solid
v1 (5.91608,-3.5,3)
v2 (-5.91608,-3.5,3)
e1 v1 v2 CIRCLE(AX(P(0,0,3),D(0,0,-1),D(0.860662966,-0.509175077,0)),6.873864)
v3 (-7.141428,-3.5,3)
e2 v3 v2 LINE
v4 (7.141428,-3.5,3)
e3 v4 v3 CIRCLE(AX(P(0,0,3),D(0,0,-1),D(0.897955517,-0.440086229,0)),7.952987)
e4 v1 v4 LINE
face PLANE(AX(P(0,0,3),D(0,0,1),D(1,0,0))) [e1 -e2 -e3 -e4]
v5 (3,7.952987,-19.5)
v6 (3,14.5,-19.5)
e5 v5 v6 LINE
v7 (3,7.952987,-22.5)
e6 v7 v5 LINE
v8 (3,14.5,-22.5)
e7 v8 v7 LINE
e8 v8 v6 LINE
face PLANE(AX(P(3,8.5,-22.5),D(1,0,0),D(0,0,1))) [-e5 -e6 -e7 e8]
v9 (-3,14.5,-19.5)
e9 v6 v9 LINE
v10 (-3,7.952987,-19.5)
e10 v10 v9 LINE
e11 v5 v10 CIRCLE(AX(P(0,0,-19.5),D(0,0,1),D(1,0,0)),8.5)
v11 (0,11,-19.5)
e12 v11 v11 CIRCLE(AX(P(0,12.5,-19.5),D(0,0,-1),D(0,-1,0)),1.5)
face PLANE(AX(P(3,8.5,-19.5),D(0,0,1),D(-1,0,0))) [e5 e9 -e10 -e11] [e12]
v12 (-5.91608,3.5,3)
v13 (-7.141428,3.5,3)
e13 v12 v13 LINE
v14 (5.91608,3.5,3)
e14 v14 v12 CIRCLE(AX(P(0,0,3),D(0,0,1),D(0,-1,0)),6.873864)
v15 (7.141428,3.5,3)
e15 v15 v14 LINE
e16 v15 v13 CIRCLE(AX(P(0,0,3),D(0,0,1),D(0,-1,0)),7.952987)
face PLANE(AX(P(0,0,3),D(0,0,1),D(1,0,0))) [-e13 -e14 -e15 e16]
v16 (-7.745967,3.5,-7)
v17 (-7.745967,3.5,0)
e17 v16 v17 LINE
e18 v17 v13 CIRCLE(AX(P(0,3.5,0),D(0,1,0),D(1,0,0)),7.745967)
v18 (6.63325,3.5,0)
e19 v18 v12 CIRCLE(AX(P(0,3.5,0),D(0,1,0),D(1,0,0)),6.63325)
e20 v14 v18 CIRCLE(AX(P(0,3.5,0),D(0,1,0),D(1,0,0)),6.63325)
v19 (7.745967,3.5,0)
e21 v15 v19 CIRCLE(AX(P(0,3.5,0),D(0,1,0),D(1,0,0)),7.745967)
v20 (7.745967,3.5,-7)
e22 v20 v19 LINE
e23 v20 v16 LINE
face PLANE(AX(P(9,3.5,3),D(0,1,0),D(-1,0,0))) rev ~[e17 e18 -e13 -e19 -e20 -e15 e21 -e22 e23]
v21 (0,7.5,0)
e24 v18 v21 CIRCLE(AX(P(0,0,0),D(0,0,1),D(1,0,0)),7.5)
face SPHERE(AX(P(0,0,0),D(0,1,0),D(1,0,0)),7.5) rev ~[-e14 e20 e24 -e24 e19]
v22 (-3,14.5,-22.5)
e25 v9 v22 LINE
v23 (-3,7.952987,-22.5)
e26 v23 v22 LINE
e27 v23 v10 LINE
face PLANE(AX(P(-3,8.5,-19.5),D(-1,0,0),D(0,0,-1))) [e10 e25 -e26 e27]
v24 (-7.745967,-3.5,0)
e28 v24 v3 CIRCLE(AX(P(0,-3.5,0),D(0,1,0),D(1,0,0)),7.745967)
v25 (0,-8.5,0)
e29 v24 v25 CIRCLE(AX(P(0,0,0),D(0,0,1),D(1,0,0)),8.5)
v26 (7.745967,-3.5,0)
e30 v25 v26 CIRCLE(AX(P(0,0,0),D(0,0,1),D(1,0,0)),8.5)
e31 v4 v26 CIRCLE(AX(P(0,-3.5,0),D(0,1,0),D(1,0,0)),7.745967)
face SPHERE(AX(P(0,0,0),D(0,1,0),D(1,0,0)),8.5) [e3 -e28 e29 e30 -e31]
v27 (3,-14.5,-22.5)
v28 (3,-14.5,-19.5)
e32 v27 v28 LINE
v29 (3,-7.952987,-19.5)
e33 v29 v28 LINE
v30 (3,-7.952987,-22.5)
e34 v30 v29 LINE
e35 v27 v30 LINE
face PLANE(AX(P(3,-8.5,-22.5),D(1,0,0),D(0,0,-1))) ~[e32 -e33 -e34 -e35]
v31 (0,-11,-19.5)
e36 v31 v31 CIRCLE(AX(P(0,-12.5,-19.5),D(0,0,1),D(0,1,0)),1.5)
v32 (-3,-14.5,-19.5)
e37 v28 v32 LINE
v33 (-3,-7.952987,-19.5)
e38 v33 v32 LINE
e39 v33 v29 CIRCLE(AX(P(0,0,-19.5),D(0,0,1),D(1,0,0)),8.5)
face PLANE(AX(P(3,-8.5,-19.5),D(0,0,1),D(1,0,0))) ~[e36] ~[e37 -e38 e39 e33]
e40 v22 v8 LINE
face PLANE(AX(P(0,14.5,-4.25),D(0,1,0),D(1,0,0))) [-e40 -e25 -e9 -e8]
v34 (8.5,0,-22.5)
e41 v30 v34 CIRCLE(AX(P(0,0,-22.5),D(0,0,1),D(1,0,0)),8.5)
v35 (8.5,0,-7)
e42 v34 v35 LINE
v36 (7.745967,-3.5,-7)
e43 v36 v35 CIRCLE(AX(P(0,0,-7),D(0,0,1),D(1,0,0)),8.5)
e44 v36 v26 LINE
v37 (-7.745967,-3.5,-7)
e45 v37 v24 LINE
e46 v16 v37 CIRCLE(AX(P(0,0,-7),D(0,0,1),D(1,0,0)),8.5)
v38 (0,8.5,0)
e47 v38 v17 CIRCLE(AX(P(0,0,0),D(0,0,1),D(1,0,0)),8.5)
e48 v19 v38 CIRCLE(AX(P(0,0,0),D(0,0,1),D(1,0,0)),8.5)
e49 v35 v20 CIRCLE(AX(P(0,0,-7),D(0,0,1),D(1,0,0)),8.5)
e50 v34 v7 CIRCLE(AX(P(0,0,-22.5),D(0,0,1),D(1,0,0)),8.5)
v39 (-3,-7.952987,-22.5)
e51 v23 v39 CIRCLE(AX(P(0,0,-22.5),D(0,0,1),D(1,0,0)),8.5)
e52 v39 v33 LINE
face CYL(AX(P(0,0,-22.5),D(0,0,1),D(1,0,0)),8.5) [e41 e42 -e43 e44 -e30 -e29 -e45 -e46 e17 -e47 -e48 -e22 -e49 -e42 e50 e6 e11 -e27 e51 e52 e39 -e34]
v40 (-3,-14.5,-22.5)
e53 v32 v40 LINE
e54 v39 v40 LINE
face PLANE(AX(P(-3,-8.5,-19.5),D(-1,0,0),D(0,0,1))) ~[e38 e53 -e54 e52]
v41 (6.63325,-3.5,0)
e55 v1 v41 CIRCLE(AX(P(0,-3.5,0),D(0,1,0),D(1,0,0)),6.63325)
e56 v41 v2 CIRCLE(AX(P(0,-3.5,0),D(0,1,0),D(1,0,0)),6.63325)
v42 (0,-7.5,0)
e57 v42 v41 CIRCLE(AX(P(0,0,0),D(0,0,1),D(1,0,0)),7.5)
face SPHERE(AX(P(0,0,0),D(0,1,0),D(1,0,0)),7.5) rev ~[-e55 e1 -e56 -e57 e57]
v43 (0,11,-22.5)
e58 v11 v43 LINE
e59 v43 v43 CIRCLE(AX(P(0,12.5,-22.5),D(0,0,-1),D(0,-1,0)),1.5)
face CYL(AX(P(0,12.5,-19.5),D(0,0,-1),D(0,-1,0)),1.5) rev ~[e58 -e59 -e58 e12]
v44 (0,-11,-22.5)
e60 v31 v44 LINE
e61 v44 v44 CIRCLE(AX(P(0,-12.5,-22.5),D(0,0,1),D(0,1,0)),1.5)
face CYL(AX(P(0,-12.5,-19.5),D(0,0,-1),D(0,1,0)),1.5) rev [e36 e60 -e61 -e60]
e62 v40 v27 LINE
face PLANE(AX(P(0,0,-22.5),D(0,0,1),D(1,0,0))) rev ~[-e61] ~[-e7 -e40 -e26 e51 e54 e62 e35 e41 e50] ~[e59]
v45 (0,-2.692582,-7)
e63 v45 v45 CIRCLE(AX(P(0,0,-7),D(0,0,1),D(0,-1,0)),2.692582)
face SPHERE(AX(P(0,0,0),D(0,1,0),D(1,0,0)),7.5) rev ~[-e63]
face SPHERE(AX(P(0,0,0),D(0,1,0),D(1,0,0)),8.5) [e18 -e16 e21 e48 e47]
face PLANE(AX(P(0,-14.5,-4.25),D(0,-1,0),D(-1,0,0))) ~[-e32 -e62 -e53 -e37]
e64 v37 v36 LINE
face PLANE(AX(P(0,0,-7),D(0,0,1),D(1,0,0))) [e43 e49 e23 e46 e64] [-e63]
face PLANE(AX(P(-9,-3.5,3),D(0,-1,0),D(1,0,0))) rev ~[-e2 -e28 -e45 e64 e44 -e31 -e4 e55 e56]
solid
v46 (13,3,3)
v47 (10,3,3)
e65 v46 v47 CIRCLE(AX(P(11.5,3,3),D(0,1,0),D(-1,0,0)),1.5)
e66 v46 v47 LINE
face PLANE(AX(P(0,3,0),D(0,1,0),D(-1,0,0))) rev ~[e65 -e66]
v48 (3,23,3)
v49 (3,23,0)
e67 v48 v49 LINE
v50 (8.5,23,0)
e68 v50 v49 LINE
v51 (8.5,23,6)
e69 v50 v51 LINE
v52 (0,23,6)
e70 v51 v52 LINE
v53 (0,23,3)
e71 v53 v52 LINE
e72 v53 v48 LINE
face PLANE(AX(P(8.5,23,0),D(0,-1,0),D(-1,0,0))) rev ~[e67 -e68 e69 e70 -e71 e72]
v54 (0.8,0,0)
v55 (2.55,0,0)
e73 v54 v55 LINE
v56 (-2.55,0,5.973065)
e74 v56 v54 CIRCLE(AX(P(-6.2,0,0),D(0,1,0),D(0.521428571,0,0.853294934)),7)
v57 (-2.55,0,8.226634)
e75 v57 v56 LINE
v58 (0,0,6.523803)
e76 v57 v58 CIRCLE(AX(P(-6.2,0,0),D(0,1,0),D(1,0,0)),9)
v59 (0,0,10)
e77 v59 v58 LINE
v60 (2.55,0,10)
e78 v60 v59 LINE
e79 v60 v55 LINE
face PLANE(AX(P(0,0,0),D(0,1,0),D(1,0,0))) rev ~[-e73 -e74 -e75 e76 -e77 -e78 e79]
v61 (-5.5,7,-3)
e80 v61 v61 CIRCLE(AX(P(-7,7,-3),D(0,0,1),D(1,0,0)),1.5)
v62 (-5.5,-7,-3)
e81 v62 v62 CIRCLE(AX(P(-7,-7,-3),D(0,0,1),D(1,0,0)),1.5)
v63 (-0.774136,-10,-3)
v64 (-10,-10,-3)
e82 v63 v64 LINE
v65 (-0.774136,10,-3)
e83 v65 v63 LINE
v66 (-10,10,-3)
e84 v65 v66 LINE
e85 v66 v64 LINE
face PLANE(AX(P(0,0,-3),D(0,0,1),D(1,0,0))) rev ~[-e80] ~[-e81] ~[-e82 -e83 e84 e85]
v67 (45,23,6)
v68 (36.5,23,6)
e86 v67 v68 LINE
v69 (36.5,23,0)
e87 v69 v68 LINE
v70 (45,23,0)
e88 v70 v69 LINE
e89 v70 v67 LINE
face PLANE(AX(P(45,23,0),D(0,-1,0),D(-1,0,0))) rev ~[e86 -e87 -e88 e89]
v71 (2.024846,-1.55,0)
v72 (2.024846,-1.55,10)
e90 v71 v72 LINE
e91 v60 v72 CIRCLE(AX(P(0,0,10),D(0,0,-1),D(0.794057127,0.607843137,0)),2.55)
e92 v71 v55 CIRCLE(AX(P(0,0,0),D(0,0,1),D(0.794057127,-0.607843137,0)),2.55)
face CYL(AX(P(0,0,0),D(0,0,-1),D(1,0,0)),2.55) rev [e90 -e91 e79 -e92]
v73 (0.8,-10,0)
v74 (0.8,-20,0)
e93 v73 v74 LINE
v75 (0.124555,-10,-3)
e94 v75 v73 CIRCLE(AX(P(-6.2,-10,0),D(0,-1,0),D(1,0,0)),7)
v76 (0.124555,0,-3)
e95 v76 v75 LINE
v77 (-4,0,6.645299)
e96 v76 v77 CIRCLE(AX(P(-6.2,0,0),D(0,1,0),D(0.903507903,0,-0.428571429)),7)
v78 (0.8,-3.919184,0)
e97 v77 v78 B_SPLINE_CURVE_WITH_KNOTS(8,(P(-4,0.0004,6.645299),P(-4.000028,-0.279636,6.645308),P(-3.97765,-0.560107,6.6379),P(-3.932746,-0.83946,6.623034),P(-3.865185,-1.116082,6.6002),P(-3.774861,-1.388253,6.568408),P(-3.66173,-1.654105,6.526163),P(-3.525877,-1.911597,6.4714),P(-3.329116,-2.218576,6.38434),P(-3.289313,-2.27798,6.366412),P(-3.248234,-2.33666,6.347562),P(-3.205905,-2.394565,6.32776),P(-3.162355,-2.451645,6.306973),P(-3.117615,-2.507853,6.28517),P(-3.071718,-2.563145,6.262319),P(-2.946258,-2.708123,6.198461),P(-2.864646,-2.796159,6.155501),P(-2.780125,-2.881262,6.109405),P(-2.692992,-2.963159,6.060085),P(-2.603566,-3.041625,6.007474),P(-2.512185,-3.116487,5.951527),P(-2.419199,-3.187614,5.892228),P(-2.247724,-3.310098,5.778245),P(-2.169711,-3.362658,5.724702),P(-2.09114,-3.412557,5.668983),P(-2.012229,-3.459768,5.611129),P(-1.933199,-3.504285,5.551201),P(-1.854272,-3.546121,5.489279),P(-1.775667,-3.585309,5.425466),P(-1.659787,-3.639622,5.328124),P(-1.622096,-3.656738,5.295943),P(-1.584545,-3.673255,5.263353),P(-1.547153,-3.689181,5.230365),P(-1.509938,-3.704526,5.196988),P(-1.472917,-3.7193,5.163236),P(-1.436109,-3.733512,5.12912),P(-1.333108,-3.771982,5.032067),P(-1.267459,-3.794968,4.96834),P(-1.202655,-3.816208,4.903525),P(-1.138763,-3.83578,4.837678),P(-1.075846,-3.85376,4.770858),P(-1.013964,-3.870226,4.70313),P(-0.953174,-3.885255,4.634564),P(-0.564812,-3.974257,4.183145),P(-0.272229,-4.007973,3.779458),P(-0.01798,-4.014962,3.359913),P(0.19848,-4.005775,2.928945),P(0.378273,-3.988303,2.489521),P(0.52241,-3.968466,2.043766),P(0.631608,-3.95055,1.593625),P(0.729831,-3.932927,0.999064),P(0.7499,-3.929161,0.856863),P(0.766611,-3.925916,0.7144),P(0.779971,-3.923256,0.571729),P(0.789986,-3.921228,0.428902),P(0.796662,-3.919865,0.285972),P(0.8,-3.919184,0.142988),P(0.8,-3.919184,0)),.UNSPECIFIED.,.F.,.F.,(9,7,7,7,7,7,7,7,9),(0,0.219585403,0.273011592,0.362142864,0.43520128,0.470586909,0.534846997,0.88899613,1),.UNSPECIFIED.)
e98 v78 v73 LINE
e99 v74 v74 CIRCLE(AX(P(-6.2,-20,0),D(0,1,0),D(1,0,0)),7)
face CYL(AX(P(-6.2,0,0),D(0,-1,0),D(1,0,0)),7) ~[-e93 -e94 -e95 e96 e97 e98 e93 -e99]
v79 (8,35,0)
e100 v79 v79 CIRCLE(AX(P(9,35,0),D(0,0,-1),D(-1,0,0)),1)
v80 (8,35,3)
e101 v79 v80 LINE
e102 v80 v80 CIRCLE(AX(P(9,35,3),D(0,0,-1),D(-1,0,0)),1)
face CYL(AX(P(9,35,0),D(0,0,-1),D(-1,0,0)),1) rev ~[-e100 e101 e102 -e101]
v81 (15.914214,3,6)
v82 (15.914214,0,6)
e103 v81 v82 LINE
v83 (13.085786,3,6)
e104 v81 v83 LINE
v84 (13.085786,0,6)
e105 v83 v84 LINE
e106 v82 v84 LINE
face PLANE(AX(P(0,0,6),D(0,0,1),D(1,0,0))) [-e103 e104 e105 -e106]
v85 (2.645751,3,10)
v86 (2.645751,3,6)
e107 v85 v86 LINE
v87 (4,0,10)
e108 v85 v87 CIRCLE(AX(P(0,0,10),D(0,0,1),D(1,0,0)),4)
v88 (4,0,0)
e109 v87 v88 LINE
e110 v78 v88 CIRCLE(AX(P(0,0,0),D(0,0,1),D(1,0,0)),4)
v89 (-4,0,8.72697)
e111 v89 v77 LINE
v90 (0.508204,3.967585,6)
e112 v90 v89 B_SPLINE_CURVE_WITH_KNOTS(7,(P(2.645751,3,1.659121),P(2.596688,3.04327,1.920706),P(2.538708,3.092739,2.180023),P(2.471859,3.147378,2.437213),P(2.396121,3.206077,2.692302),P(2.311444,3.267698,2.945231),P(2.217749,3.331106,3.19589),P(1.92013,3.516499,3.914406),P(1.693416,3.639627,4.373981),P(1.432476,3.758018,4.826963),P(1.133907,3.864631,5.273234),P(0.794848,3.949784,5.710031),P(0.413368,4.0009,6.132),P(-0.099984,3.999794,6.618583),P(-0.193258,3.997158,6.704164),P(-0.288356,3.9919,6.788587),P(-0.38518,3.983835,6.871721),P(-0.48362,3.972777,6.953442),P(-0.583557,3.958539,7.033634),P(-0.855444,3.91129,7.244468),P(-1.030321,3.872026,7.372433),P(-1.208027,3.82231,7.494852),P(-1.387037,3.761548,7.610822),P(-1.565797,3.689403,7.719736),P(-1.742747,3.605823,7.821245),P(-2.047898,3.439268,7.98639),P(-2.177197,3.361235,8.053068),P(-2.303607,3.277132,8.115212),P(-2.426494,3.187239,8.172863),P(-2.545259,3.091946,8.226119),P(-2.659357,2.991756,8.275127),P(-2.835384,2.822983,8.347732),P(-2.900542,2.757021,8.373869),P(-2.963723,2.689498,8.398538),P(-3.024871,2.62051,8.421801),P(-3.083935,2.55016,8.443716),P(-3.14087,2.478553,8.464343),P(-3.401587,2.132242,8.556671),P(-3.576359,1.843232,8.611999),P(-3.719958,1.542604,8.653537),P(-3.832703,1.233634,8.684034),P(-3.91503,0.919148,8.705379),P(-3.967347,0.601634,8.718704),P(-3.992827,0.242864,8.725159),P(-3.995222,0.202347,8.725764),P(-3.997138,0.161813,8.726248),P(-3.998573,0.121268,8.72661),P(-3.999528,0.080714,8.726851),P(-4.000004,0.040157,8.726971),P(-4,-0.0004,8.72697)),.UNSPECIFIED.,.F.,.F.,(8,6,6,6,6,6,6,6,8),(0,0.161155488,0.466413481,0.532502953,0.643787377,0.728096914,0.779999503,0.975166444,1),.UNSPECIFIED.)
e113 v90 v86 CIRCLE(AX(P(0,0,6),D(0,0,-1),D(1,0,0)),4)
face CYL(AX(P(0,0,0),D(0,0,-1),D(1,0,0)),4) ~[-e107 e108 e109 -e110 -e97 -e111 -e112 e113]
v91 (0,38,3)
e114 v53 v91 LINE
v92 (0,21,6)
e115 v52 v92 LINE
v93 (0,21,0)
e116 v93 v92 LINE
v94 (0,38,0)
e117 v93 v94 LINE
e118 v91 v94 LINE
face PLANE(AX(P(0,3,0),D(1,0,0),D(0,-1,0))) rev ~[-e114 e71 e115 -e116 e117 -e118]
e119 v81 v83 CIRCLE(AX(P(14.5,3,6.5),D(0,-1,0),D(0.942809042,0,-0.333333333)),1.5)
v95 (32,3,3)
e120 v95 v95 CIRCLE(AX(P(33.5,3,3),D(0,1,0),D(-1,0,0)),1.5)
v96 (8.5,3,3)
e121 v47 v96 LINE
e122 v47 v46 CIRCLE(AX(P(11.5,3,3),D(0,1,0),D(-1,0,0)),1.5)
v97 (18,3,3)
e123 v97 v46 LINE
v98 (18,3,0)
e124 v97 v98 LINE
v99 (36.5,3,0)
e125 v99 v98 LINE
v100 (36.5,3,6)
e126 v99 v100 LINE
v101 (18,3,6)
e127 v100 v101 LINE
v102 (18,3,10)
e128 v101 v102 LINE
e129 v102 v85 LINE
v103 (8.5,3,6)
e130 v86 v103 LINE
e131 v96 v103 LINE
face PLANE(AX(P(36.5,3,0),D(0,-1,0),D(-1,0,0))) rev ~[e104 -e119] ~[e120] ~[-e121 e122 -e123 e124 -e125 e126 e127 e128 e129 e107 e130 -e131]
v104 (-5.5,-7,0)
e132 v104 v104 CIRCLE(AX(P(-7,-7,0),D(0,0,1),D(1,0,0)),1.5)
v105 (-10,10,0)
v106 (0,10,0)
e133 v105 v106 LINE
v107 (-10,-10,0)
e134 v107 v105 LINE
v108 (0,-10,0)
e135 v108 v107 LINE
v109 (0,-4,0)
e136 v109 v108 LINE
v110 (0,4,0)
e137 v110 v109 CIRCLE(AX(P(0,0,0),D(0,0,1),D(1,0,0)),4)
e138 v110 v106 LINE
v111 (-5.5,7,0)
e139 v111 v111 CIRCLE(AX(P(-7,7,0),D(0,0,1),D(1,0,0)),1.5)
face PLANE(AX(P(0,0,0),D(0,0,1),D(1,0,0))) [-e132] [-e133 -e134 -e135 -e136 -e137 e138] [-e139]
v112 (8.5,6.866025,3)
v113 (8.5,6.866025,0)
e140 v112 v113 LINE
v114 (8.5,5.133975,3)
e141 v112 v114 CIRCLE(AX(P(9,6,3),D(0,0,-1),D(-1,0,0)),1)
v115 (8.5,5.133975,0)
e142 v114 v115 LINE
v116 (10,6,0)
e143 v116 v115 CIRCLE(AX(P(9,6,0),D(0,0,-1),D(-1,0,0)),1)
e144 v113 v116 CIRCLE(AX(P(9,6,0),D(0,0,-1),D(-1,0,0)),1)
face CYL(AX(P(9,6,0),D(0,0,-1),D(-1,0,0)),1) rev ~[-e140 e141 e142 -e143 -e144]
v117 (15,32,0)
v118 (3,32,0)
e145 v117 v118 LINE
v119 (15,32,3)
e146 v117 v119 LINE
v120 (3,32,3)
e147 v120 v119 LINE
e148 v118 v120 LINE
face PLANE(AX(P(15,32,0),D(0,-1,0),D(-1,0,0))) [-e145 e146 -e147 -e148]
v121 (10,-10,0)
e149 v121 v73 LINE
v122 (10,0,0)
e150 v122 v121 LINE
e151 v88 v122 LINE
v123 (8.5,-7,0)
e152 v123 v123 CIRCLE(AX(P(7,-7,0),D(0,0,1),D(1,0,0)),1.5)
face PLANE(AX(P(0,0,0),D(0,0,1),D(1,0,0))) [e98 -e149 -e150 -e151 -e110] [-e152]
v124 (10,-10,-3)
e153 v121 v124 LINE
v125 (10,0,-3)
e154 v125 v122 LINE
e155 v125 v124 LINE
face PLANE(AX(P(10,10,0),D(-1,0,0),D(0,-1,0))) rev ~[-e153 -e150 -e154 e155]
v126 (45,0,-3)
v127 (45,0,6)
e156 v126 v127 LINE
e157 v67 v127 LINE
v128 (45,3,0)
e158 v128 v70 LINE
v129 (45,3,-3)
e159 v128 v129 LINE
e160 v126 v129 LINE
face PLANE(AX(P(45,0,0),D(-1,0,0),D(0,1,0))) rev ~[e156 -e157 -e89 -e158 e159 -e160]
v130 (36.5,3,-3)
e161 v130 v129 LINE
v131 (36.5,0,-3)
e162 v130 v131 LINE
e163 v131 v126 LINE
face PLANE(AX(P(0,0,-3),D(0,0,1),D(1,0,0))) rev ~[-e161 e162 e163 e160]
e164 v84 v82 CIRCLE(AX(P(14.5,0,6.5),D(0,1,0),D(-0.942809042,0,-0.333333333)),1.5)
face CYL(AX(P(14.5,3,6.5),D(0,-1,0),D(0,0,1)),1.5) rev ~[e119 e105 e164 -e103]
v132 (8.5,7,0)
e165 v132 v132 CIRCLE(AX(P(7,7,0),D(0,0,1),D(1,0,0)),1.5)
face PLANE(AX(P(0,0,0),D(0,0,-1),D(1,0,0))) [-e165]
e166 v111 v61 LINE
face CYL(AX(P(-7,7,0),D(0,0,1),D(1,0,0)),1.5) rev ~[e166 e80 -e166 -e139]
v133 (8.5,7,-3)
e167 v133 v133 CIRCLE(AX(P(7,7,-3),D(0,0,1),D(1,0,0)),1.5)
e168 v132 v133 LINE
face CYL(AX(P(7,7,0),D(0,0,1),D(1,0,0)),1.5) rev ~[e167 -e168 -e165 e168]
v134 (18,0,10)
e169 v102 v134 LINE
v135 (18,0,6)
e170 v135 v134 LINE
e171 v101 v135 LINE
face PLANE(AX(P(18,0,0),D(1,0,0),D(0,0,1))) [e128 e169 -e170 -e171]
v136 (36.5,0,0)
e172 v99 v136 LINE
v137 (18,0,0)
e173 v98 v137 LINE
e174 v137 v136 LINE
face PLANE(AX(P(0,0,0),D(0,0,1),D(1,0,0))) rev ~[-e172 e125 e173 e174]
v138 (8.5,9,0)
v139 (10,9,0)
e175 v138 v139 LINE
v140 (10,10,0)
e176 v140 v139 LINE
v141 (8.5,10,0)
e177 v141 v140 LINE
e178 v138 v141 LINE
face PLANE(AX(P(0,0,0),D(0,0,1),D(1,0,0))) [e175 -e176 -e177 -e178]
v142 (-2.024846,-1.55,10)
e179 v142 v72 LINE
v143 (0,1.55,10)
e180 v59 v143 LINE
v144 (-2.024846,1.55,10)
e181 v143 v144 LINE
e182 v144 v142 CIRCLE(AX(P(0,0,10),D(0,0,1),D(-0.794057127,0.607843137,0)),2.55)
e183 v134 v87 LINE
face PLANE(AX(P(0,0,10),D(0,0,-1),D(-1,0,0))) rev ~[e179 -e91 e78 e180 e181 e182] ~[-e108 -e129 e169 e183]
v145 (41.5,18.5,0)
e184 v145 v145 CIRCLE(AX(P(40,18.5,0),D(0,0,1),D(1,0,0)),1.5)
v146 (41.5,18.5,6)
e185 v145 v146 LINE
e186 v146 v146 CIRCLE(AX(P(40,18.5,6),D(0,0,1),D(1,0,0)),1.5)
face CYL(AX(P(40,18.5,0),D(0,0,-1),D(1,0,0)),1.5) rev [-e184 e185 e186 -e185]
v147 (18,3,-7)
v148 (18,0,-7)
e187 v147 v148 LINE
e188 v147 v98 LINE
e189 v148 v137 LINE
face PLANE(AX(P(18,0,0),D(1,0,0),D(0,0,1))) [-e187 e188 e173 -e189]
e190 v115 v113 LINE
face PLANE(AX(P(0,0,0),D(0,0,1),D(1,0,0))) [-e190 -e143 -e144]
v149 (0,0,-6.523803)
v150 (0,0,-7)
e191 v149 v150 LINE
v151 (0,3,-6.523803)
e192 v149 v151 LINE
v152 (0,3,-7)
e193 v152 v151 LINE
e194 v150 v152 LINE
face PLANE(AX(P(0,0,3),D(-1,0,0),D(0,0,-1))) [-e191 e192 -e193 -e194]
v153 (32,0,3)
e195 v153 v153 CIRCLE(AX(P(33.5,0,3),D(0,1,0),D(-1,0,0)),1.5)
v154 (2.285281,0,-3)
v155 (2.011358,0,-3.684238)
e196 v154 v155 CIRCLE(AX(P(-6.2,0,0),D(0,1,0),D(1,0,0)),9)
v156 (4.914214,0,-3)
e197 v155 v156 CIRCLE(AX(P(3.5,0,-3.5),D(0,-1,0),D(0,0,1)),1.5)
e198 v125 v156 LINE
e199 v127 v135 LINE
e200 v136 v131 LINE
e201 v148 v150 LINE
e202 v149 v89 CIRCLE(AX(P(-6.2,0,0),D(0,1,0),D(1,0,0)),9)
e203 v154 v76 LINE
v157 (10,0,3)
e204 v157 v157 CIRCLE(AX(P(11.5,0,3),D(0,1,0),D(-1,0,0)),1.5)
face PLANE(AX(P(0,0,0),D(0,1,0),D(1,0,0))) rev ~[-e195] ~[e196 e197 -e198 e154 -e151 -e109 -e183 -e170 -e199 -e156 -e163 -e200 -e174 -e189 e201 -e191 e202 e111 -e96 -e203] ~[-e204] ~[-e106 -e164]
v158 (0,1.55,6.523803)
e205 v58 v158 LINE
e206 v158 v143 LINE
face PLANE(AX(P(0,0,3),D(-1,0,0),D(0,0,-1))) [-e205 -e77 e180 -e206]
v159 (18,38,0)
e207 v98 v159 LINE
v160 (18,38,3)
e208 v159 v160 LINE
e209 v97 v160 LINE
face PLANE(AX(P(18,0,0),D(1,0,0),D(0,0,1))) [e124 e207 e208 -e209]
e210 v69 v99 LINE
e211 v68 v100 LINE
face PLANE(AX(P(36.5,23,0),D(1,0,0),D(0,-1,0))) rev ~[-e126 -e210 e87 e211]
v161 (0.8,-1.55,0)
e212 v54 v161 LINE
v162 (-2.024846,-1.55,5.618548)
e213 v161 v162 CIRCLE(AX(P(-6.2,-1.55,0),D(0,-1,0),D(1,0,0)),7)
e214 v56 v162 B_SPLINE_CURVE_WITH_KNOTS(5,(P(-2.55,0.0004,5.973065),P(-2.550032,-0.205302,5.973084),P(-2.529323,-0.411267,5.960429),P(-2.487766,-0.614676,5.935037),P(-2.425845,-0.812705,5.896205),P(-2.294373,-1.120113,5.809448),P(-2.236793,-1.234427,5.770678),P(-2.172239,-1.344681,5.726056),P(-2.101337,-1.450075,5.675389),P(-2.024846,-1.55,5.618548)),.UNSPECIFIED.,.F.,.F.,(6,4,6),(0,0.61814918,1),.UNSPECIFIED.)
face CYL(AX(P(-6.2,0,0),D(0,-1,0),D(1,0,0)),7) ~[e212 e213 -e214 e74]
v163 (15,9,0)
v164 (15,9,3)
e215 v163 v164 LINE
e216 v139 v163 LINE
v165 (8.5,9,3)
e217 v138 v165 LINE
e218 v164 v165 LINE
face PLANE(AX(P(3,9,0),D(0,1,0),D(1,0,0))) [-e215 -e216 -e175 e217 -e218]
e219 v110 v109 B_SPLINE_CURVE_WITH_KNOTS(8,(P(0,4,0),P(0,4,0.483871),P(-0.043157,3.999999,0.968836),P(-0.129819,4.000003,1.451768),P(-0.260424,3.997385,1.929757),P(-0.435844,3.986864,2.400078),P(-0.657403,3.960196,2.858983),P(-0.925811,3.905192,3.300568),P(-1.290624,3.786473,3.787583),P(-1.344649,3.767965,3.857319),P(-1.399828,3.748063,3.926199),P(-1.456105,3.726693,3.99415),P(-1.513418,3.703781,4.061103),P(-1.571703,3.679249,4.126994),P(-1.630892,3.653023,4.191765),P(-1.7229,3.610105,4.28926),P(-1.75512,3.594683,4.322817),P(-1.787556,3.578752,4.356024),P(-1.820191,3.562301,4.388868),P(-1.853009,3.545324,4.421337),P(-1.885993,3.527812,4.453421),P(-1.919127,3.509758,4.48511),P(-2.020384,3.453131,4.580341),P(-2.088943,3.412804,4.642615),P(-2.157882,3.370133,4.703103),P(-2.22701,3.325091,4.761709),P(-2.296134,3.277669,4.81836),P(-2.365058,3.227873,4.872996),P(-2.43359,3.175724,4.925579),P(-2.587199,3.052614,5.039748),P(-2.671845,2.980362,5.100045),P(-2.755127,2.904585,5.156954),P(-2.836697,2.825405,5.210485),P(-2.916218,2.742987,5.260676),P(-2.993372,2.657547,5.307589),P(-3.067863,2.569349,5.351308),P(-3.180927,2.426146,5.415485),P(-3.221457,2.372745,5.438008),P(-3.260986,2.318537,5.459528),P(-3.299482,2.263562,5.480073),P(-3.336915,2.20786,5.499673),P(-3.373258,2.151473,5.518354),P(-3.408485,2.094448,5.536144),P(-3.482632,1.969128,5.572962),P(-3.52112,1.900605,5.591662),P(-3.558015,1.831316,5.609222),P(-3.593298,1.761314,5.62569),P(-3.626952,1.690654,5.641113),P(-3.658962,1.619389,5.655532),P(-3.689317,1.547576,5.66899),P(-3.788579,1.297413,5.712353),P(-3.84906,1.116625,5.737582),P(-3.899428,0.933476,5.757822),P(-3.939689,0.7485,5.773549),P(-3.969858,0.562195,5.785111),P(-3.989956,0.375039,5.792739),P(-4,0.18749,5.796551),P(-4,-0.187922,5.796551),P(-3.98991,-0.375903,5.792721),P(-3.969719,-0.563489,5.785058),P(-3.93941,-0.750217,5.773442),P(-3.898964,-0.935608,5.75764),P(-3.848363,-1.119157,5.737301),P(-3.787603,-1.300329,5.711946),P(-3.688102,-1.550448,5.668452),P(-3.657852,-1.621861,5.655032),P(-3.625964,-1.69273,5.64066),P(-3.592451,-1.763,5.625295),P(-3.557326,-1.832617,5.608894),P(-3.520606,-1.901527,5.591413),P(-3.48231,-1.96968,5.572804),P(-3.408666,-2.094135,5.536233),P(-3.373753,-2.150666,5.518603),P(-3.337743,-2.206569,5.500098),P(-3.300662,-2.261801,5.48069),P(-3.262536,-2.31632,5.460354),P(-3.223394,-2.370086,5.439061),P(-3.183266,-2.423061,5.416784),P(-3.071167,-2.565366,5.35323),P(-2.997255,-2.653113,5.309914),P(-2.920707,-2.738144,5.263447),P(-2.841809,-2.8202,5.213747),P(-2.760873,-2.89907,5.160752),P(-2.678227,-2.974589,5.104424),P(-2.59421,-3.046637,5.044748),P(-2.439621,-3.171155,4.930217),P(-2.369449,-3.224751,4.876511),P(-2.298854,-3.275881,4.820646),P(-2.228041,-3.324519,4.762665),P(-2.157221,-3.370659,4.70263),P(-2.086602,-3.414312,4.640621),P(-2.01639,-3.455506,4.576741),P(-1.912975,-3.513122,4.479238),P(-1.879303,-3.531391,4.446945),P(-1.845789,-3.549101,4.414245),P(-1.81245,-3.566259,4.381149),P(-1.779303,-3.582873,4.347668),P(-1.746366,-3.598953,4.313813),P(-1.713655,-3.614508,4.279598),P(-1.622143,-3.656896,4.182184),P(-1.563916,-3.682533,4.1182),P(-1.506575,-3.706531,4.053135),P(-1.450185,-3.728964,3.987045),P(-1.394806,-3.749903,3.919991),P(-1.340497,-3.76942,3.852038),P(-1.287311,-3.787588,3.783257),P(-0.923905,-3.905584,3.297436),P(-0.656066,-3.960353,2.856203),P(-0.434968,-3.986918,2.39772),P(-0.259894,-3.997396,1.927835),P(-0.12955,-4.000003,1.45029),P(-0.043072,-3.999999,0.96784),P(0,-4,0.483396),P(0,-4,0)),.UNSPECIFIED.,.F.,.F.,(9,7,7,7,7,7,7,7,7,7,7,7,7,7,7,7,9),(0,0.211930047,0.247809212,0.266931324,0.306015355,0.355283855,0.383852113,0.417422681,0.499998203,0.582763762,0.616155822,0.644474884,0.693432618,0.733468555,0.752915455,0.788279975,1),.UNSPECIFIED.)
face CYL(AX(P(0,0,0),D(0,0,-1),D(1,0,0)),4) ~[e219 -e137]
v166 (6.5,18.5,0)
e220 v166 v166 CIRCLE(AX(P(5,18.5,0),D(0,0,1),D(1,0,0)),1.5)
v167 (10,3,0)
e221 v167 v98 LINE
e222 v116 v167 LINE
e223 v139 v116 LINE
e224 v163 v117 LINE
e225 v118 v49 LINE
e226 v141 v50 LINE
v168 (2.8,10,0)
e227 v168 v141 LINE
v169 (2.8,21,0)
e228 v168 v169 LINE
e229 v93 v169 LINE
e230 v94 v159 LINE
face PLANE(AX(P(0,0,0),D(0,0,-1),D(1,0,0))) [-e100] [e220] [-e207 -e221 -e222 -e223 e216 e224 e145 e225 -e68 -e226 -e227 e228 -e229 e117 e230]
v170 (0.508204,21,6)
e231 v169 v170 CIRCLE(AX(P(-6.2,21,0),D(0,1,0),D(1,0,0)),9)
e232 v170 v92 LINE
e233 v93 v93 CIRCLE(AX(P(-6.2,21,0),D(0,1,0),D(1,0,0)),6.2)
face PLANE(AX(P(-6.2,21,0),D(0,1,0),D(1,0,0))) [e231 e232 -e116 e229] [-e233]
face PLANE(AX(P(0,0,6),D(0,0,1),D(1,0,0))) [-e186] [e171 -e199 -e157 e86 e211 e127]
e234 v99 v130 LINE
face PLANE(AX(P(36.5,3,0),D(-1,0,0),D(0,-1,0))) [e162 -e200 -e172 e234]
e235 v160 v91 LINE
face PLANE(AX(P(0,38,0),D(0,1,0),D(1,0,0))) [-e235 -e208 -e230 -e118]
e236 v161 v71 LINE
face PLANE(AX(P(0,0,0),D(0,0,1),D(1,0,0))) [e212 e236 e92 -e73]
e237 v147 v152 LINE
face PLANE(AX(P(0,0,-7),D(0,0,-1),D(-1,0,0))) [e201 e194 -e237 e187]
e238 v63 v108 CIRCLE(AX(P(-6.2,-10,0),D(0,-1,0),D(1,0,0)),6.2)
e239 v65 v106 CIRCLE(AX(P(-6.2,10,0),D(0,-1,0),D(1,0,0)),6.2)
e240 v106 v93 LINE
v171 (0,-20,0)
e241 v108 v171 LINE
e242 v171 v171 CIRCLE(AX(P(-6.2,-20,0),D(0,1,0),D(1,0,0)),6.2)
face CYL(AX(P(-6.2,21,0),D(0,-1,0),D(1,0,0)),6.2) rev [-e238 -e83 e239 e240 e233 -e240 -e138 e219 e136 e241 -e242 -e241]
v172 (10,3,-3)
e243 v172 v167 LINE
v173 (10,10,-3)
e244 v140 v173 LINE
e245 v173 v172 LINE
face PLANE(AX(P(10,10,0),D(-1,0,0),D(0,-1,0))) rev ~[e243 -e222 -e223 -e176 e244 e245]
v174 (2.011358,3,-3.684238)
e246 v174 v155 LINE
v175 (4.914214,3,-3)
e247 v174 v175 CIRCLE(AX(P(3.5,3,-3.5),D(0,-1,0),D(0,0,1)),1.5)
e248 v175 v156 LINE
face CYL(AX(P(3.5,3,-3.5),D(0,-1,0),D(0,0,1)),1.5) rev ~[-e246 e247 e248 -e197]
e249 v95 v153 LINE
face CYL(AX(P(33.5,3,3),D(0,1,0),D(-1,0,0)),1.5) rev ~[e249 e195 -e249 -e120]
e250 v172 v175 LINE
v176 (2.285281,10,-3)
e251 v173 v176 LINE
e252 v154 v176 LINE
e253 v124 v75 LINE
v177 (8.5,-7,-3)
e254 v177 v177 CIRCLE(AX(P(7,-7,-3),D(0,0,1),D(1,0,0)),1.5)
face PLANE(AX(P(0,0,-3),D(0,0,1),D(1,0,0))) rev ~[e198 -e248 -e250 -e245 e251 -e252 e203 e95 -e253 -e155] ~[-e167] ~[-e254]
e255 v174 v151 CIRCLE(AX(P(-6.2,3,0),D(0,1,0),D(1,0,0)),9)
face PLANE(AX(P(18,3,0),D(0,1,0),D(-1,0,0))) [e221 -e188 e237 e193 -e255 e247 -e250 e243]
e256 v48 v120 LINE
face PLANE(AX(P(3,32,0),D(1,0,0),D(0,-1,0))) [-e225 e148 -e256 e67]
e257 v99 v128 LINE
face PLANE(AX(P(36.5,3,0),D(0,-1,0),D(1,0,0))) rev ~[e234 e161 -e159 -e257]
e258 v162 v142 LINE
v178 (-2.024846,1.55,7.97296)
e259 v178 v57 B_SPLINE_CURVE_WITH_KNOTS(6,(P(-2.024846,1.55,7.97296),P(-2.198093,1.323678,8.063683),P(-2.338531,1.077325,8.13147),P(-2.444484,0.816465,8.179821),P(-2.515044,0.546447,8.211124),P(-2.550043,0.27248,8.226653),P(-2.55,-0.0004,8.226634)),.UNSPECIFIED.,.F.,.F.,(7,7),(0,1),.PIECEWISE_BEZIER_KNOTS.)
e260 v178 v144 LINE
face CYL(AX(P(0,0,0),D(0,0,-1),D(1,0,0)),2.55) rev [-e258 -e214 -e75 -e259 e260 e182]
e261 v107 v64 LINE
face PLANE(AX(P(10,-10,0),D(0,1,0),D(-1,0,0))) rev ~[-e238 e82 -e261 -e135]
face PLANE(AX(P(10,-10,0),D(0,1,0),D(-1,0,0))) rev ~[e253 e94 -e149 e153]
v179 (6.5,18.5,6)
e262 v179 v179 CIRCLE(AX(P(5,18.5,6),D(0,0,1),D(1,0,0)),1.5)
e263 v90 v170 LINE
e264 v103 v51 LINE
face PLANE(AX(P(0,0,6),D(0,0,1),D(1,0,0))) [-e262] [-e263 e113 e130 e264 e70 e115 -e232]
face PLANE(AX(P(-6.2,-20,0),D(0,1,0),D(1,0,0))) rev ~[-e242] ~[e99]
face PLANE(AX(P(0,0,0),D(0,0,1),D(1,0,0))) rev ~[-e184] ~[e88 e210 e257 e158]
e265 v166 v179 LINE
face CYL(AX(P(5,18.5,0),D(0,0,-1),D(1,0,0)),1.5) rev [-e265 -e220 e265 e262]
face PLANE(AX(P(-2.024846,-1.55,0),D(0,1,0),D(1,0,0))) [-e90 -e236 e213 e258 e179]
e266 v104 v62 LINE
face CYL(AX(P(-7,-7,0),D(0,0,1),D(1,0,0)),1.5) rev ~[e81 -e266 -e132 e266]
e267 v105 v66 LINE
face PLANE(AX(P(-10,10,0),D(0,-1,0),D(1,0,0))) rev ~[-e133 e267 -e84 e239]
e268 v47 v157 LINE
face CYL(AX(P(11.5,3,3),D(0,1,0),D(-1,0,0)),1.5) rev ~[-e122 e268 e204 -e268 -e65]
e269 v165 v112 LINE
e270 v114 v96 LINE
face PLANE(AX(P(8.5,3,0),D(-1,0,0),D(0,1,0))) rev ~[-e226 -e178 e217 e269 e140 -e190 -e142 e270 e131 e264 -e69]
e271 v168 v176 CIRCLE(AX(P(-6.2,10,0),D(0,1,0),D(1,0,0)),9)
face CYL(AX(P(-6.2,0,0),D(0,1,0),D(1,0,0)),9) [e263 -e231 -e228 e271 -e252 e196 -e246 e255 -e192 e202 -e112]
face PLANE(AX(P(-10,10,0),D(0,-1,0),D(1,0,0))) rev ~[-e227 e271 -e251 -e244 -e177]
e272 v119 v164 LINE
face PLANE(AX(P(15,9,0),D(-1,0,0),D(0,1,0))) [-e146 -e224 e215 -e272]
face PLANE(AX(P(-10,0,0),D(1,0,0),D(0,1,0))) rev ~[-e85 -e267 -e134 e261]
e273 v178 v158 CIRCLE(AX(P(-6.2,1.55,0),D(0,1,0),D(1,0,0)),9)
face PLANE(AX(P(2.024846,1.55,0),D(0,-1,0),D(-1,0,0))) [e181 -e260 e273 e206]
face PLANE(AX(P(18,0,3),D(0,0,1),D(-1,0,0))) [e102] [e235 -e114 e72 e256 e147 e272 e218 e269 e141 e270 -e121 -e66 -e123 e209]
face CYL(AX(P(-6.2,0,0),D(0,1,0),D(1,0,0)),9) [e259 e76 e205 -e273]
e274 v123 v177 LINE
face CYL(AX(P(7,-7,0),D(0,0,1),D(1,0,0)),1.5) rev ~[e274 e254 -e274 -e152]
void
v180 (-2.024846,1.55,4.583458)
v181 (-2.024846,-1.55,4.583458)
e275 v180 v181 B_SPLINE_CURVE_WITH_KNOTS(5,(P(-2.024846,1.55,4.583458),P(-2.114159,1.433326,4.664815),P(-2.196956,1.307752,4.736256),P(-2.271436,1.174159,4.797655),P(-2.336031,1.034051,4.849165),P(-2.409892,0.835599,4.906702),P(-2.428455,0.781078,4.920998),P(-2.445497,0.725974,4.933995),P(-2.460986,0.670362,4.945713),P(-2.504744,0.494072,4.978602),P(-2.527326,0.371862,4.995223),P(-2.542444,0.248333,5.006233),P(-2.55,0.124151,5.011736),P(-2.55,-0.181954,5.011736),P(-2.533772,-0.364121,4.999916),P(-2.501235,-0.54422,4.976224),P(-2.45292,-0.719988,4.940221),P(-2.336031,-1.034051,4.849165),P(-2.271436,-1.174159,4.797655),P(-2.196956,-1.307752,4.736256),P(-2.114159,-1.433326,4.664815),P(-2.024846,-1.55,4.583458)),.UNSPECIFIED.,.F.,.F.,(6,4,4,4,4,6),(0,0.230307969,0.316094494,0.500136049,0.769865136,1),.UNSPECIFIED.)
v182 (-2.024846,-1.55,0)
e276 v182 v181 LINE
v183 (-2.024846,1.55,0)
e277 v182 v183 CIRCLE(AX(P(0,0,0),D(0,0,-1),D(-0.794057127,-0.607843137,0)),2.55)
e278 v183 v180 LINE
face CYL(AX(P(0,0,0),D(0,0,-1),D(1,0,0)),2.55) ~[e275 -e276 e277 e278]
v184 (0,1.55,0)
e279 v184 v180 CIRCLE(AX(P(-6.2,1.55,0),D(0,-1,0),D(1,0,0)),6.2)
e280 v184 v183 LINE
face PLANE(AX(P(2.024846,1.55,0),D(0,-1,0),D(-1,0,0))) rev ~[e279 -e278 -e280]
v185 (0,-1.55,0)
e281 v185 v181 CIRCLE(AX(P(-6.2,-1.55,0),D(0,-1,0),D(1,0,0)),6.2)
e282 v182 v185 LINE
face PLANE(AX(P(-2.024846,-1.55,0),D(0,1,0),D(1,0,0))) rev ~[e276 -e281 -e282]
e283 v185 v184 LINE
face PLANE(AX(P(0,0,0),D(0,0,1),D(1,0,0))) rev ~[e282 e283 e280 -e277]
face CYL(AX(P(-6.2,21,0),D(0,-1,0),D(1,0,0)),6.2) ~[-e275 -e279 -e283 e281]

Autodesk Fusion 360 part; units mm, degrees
sketch "Sketch base" plane through (0, 0, 0) normal (0, 1, 0) x (1, 0, 0)
  line L0 (0, 0) -> (18, 0)
  line L1 (18, 0) -> (18, -3)
  line L2 (18, -3) -> (0, -3)
  line L3 (0, -3) -> (0, 0)
  dimension "d1" = 18
  dimension "d2" = 3
extrude "Extrude1" add sketch "Sketch base" along normal blind 38
sketch "Sketch face" plane through (0, 0, 0) normal (0, 0, -1) x (-1, 0, 0)
  line L0 (-18, 0) -> (0, 0)
  line L1 (0, 0) -> (0, 38)
  line L2 (0, 38) -> (-18, 38)
  line L3 (-18, 38) -> (-18, 0)
  circle A0 centre (-9, 35) radius 1
  circle A1 centre (-9, 6) radius 1
  line L4 (-15, 32) -> (-3, 32)
  line L5 (-3, 32) -> (-3, 9)
  line L6 (-3, 9) -> (-15, 9)
  line L7 (-15, 9) -> (-15, 32)
  line L8 (0, 0) -> (-18, 0)
  line L9 (-18, 0) -> (-18, 3)
  line L10 (-18, 3) -> (0, 3)
  line L11 (0, 3) -> (0, 0)
  dimension "d5" = 2
  dimension "d6" = 2
  dimension "d7" = 12
  dimension "d8" = 3
  dimension "d9" = 3
  dimension "d10" = 3
  dimension "d13" = 3
  dimension "d14" = 9
  dimension "d15" = 9
  dimension "d19" = 3
  dimension "d34" = 23
extrude "Extrude2" cut sketch "Sketch face" against normal blind 4 contours A0 | A1 | L4 L5 L6 L7
extrude "Extrude3" add sketch "Sketch face" along normal blind 7 and the other way blind 10 contours L0 L1 L3 L8 L9 L10 L11
hole "Hole1" at (3.5, 3, -3.5) direction (0, -1, 0) diameter 3 depth 5 tip angle 180
hole "Hole2" at (14.5, 3, 6.5) direction (0, -1, 0) diameter 3 depth 5 tip angle 180

Autodesk Fusion 360 part; units mm, degrees
sketch "Sketch1" plane through (0, 0, 0) normal (0, 0, 1) x (1, 0, 0)
  line L0 (2.55, 1.55) -> (-2.55, -1.55) construction
  line L1 (2.55, 1.55) -> (-2.55, -1.55) construction
  line L2 (-2.55, 1.55) -> (-2.55, -1.55)
  circle A0 centre (0, 0) radius 4
  line L3 (-2.55, 1.55) -> (2.55, -1.55) construction
  line L4 (-2.55, -1.55) -> (2.55, -1.55)
  line L5 (2.55, 1.55) -> (-2.55, 1.55)
  line L6 (2.55, 1.55) -> (-2.55, -1.55) construction
  line L7 (-2.55, 1.55) -> (2.55, -1.55) construction
  line L8 (-2.55, 1.55) -> (2.55, -1.55) construction
  circle A1 centre (0, 0) radius 2.55
  line L9 (2.55, -1.55) -> (2.55, 1.55)
  line L10 (-10, 10) -> (10, 10)
  line L11 (10, 10) -> (10, -10)
  line L12 (10, -10) -> (-10, -10)
  line L13 (-10, -10) -> (-10, 10)
  circle A2 centre (-7, 7) radius 1.5
  line L14 (0, 10) -> (0, 7.5)
  circle A3 centre (7, 7) radius 1.5
  line L15 (-10, 0) -> (-8.5, 0)
  circle A4 centre (-7, -7) radius 1.5
  circle A5 centre (7, -7) radius 1.5
  dimension "d1" = 5.1
  dimension "d2" = 5.1
  dimension "d3" = 3.1
  dimension "d4" = 8
  dimension "d5" = 5.1
  dimension "d6" = 5.1
  dimension "d7" = 20
  dimension "d8" = 20
  dimension "d9" = 3
extrude "Extrude1" add sketch "Sketch1" along normal blind 10 contours L2 L5 A1 | L2 L4 A1 | L5 A1 | L4 A1 | L5 A1 L9 | L4 A1 L9 | A0 makes body 1
extrude "Extrude2" add sketch "Sketch1" against normal blind 3 separate body contours L10 L11 L12 L13 makes body 2
extrude "Extrude3" add sketch "Sketch1" against normal blind 3 contours L2 L5 A1 | L2 L4 A1 | L4 L5 A1 | L5 A1 | L4 A1 | L5 A1 L9 | L4 A1 L9 | A0 bodies 1 2

Autodesk Fusion 360 part; units mm, degrees
sketch "Sketch principal" plane through (0, 0, 0) normal (0, 0, 1) x (1, 0, 0)
  line L0 (45, 0) -> (45, 23)
  line L1 (45, 23) -> (36.5, 23)
  line L2 (36.5, 0) -> (45, 0)
  line L3 (36.5, 23) -> (36.5, 0)
  circle A0 centre (40, 18.5) radius 1.5
  line L4 (8.5, 23) -> (0, 23)
  line L5 (0, 0) -> (8.5, 0)
  line L6 (0, 23) -> (0, 0)
  line L7 (8.5, 0) -> (8.5, 23)
  circle A1 centre (5, 18.5) radius 1.5
  line L8 (8.5, 0) -> (36.5, 0)
  line L9 (36.5, 0) -> (36.5, 3)
  line L10 (36.5, 3) -> (8.5, 3)
  line L11 (8.5, 3) -> (8.5, 0)
  line L12 (8.5, 3) -> (0, 3)
  line L13 (0, 3) -> (0, 0)
  line L14 (0, 0) -> (8.5, 0)
  line L15 (8.5, 0) -> (8.5, 3)
  line L16 (36.5, 3) -> (45, 3)
  line L17 (45, 3) -> (45, 0)
  line L18 (45, 0) -> (36.5, 0)
  line L19 (36.5, 0) -> (36.5, 3)
  point P0 (36.5, 0)
  dimension "d15" = 23
  dimension "d16" = 8.5
  dimension "d17" = 3
  dimension "d18" = 4.5
  dimension "d20" = 23
  dimension "d21" = 8.5
  dimension "d22" = 3
  dimension "d23" = 4.5
  dimension "d24" = 3.5
  dimension "d25" = 28
  dimension "d26" = 3.5
  dimension "d28" = 3
  dimension "d29" = 28
extrude "Extrude1" add sketch "Sketch principal" along normal blind 6
ref_plane "WorkPlane1" through (22.5, 13, 3) normal (1, 0, 0) x (0, 1, 0)
ref_plane "WorkPlane2" through (22.5, 11.5, 3) normal (0, 0, -1) x (-1, 0, 0)
sketch "Sketch4" plane through (0, 3, 0) normal (0, 1, 0) x (-1, 0, 0)
  line L0 (-36.5, 0) -> (-8.5, 0)
  line L1 (-8.5, 0) -> (-8.5, 6)
  line L2 (-8.5, 6) -> (-36.5, 6)
  line L3 (-36.5, 6) -> (-36.5, 0)
  circle A0 centre (-11.5, 3) radius 1.5
  line L4 (-22.5, 0) -> (-22.5, 6)
  circle A1 centre (-33.5, 3) radius 1.5
  dimension "d32" = 3
  dimension "d35" = 3
extrude "Extrude2" cut sketch "Sketch4" against normal blind 11 contours A0 | A1
extrude "Extrude3" add sketch "Sketch principal" against normal blind 3 contours L0 L2 L3 L9 L16 L17 L18 L19 | L5 L6 L7 L11 L12 L13 L14 L15

Autodesk Fusion 360 part; units mm, degrees
sketch "Sketch tranche" plane through (0, 0, 0) normal (0, 0, 1) x (1, 0, 0)
  line L0 (0, 0) -> (0.8, 0)
  line L1 (0.8, 0) -> (0.8, 21)
  line L2 (0.8, 21) -> (0, 21)
  line L3 (0, 21) -> (0, 0)
  line L4 (-6.2, 0) -> (-6.2, 6)
  line L5 (0.8, 0) -> (2.8, 0)
  line L6 (2.8, 0) -> (2.8, 21)
  line L7 (2.8, 21) -> (0.8, 21)
  line L8 (0.8, 21) -> (0.8, 0)
  line L9 (0, 0) -> (0.8, 0)
  line L10 (0.8, 0) -> (0.8, -20)
  line L11 (0.8, -20) -> (0, -20)
  line L12 (0, -20) -> (0, 0)
  dimension "d1" = 21
  dimension "d2" = 0.8
  dimension "d3" = 6.2
  dimension "d5" = 2
  dimension "d6" = 21
  dimension "d8" = 20
  dimension "d9" = 0.8
revolve "Revolve3" add sketch "Sketch tranche" angle 360 about axis through (-6.2, 0, 0) along (0, 1, 0)

Autodesk Fusion 360 part; units mm, degrees
sphere "SpherePrimitive2" add diameter 17 placed x (1, 0, 0) y (0, 0, -1) z (0, 1, 0) at (0, 0, 0) makes body 1
shell "Shell1" thickness 1 removed faces 0 bodies 1
ref_plane "WorkPlane1" through (0, 0, 3) normal (0, 0, 1) x (1, 0, 0)
split "Split1" by plane through (0, 0, 3) normal (0, 0, 1) bodies 1 makes body 2 at (-5.4981, 0.571, 6.4572)
delete_body "RemoveBody1" bodies 2
cylinder "CylinderPrimitive1" add diameter 17 height -22.5 placed x (1, 0, 0) y (0, 1, 0) z (0, 0, 1) at (0, 0, 0) separate body makes body 3
sphere "SpherePrimitive4" cut diameter 15 placed x (1, 0, 0) y (0, 0, -1) z (0, 1, 0) at (0, 0, 0) bodies 3
combine "Combine8" operation add target body 1 tool bodies 3
ref_plane "WorkPlane4" through (0, 8.5, -11.25) normal (0, 1, 0) x (1, 0, 0)
sketch "Sketch vis haut" plane through (0, 8.5, -4.25) normal (0, 1, 0) x (1, 0, 0)
  line L0 (0, 18.25) -> (0, 16.75)
  line L1 (-3, 18.25) -> (3, 18.25)
  line L2 (3, 18.25) -> (3, 15.25)
  line L3 (3, 15.25) -> (-3, 15.25)
  line L4 (-3, 15.25) -> (-3, 18.25)
  line L5 (0, 16.75) -> (0.1, 16.75)
  point P0 (0, 16.75)
  point P1 (0, 18.25)
  dimension "d72" = 1.5
  dimension "d73" = 3
  dimension "d74" = 6
extrude "Extrude4" add sketch "Sketch vis haut" along normal blind 6 and the other way blind 2 separate body makes body 4
hole "Hole1" at (0, 12.5, -19.5) direction (0, 0, -1) diameter 3 depth 3 tip angle 180 bodies 4
mirror "Mirror4" about plane through (0, 0, 0) normal (0, 1, 0) of bodies 4 makes body 5
combine "Combine9" operation add target body 1 tool bodies 4 5
sketch "Sketch13" plane through (0, 0, 3) normal (0, 0, 1) x (1, 0, 0)
  line L0 (9, 3.5) -> (-9, 3.5)
  line L1 (-9, 3.5) -> (-9, -3.5)
  line L2 (-9, -3.5) -> (9, -3.5)
  line L3 (9, -3.5) -> (9, 3.5)
  line L4 (9, 3.5) -> (-9, -3.5) construction
  line L5 (-9, 3.5) -> (9, -3.5) construction
  dimension "d54" = 7
  dimension "d55" = 18
extrude "Extrude5" cut sketch "Sketch13" against normal blind 10 bodies 1
